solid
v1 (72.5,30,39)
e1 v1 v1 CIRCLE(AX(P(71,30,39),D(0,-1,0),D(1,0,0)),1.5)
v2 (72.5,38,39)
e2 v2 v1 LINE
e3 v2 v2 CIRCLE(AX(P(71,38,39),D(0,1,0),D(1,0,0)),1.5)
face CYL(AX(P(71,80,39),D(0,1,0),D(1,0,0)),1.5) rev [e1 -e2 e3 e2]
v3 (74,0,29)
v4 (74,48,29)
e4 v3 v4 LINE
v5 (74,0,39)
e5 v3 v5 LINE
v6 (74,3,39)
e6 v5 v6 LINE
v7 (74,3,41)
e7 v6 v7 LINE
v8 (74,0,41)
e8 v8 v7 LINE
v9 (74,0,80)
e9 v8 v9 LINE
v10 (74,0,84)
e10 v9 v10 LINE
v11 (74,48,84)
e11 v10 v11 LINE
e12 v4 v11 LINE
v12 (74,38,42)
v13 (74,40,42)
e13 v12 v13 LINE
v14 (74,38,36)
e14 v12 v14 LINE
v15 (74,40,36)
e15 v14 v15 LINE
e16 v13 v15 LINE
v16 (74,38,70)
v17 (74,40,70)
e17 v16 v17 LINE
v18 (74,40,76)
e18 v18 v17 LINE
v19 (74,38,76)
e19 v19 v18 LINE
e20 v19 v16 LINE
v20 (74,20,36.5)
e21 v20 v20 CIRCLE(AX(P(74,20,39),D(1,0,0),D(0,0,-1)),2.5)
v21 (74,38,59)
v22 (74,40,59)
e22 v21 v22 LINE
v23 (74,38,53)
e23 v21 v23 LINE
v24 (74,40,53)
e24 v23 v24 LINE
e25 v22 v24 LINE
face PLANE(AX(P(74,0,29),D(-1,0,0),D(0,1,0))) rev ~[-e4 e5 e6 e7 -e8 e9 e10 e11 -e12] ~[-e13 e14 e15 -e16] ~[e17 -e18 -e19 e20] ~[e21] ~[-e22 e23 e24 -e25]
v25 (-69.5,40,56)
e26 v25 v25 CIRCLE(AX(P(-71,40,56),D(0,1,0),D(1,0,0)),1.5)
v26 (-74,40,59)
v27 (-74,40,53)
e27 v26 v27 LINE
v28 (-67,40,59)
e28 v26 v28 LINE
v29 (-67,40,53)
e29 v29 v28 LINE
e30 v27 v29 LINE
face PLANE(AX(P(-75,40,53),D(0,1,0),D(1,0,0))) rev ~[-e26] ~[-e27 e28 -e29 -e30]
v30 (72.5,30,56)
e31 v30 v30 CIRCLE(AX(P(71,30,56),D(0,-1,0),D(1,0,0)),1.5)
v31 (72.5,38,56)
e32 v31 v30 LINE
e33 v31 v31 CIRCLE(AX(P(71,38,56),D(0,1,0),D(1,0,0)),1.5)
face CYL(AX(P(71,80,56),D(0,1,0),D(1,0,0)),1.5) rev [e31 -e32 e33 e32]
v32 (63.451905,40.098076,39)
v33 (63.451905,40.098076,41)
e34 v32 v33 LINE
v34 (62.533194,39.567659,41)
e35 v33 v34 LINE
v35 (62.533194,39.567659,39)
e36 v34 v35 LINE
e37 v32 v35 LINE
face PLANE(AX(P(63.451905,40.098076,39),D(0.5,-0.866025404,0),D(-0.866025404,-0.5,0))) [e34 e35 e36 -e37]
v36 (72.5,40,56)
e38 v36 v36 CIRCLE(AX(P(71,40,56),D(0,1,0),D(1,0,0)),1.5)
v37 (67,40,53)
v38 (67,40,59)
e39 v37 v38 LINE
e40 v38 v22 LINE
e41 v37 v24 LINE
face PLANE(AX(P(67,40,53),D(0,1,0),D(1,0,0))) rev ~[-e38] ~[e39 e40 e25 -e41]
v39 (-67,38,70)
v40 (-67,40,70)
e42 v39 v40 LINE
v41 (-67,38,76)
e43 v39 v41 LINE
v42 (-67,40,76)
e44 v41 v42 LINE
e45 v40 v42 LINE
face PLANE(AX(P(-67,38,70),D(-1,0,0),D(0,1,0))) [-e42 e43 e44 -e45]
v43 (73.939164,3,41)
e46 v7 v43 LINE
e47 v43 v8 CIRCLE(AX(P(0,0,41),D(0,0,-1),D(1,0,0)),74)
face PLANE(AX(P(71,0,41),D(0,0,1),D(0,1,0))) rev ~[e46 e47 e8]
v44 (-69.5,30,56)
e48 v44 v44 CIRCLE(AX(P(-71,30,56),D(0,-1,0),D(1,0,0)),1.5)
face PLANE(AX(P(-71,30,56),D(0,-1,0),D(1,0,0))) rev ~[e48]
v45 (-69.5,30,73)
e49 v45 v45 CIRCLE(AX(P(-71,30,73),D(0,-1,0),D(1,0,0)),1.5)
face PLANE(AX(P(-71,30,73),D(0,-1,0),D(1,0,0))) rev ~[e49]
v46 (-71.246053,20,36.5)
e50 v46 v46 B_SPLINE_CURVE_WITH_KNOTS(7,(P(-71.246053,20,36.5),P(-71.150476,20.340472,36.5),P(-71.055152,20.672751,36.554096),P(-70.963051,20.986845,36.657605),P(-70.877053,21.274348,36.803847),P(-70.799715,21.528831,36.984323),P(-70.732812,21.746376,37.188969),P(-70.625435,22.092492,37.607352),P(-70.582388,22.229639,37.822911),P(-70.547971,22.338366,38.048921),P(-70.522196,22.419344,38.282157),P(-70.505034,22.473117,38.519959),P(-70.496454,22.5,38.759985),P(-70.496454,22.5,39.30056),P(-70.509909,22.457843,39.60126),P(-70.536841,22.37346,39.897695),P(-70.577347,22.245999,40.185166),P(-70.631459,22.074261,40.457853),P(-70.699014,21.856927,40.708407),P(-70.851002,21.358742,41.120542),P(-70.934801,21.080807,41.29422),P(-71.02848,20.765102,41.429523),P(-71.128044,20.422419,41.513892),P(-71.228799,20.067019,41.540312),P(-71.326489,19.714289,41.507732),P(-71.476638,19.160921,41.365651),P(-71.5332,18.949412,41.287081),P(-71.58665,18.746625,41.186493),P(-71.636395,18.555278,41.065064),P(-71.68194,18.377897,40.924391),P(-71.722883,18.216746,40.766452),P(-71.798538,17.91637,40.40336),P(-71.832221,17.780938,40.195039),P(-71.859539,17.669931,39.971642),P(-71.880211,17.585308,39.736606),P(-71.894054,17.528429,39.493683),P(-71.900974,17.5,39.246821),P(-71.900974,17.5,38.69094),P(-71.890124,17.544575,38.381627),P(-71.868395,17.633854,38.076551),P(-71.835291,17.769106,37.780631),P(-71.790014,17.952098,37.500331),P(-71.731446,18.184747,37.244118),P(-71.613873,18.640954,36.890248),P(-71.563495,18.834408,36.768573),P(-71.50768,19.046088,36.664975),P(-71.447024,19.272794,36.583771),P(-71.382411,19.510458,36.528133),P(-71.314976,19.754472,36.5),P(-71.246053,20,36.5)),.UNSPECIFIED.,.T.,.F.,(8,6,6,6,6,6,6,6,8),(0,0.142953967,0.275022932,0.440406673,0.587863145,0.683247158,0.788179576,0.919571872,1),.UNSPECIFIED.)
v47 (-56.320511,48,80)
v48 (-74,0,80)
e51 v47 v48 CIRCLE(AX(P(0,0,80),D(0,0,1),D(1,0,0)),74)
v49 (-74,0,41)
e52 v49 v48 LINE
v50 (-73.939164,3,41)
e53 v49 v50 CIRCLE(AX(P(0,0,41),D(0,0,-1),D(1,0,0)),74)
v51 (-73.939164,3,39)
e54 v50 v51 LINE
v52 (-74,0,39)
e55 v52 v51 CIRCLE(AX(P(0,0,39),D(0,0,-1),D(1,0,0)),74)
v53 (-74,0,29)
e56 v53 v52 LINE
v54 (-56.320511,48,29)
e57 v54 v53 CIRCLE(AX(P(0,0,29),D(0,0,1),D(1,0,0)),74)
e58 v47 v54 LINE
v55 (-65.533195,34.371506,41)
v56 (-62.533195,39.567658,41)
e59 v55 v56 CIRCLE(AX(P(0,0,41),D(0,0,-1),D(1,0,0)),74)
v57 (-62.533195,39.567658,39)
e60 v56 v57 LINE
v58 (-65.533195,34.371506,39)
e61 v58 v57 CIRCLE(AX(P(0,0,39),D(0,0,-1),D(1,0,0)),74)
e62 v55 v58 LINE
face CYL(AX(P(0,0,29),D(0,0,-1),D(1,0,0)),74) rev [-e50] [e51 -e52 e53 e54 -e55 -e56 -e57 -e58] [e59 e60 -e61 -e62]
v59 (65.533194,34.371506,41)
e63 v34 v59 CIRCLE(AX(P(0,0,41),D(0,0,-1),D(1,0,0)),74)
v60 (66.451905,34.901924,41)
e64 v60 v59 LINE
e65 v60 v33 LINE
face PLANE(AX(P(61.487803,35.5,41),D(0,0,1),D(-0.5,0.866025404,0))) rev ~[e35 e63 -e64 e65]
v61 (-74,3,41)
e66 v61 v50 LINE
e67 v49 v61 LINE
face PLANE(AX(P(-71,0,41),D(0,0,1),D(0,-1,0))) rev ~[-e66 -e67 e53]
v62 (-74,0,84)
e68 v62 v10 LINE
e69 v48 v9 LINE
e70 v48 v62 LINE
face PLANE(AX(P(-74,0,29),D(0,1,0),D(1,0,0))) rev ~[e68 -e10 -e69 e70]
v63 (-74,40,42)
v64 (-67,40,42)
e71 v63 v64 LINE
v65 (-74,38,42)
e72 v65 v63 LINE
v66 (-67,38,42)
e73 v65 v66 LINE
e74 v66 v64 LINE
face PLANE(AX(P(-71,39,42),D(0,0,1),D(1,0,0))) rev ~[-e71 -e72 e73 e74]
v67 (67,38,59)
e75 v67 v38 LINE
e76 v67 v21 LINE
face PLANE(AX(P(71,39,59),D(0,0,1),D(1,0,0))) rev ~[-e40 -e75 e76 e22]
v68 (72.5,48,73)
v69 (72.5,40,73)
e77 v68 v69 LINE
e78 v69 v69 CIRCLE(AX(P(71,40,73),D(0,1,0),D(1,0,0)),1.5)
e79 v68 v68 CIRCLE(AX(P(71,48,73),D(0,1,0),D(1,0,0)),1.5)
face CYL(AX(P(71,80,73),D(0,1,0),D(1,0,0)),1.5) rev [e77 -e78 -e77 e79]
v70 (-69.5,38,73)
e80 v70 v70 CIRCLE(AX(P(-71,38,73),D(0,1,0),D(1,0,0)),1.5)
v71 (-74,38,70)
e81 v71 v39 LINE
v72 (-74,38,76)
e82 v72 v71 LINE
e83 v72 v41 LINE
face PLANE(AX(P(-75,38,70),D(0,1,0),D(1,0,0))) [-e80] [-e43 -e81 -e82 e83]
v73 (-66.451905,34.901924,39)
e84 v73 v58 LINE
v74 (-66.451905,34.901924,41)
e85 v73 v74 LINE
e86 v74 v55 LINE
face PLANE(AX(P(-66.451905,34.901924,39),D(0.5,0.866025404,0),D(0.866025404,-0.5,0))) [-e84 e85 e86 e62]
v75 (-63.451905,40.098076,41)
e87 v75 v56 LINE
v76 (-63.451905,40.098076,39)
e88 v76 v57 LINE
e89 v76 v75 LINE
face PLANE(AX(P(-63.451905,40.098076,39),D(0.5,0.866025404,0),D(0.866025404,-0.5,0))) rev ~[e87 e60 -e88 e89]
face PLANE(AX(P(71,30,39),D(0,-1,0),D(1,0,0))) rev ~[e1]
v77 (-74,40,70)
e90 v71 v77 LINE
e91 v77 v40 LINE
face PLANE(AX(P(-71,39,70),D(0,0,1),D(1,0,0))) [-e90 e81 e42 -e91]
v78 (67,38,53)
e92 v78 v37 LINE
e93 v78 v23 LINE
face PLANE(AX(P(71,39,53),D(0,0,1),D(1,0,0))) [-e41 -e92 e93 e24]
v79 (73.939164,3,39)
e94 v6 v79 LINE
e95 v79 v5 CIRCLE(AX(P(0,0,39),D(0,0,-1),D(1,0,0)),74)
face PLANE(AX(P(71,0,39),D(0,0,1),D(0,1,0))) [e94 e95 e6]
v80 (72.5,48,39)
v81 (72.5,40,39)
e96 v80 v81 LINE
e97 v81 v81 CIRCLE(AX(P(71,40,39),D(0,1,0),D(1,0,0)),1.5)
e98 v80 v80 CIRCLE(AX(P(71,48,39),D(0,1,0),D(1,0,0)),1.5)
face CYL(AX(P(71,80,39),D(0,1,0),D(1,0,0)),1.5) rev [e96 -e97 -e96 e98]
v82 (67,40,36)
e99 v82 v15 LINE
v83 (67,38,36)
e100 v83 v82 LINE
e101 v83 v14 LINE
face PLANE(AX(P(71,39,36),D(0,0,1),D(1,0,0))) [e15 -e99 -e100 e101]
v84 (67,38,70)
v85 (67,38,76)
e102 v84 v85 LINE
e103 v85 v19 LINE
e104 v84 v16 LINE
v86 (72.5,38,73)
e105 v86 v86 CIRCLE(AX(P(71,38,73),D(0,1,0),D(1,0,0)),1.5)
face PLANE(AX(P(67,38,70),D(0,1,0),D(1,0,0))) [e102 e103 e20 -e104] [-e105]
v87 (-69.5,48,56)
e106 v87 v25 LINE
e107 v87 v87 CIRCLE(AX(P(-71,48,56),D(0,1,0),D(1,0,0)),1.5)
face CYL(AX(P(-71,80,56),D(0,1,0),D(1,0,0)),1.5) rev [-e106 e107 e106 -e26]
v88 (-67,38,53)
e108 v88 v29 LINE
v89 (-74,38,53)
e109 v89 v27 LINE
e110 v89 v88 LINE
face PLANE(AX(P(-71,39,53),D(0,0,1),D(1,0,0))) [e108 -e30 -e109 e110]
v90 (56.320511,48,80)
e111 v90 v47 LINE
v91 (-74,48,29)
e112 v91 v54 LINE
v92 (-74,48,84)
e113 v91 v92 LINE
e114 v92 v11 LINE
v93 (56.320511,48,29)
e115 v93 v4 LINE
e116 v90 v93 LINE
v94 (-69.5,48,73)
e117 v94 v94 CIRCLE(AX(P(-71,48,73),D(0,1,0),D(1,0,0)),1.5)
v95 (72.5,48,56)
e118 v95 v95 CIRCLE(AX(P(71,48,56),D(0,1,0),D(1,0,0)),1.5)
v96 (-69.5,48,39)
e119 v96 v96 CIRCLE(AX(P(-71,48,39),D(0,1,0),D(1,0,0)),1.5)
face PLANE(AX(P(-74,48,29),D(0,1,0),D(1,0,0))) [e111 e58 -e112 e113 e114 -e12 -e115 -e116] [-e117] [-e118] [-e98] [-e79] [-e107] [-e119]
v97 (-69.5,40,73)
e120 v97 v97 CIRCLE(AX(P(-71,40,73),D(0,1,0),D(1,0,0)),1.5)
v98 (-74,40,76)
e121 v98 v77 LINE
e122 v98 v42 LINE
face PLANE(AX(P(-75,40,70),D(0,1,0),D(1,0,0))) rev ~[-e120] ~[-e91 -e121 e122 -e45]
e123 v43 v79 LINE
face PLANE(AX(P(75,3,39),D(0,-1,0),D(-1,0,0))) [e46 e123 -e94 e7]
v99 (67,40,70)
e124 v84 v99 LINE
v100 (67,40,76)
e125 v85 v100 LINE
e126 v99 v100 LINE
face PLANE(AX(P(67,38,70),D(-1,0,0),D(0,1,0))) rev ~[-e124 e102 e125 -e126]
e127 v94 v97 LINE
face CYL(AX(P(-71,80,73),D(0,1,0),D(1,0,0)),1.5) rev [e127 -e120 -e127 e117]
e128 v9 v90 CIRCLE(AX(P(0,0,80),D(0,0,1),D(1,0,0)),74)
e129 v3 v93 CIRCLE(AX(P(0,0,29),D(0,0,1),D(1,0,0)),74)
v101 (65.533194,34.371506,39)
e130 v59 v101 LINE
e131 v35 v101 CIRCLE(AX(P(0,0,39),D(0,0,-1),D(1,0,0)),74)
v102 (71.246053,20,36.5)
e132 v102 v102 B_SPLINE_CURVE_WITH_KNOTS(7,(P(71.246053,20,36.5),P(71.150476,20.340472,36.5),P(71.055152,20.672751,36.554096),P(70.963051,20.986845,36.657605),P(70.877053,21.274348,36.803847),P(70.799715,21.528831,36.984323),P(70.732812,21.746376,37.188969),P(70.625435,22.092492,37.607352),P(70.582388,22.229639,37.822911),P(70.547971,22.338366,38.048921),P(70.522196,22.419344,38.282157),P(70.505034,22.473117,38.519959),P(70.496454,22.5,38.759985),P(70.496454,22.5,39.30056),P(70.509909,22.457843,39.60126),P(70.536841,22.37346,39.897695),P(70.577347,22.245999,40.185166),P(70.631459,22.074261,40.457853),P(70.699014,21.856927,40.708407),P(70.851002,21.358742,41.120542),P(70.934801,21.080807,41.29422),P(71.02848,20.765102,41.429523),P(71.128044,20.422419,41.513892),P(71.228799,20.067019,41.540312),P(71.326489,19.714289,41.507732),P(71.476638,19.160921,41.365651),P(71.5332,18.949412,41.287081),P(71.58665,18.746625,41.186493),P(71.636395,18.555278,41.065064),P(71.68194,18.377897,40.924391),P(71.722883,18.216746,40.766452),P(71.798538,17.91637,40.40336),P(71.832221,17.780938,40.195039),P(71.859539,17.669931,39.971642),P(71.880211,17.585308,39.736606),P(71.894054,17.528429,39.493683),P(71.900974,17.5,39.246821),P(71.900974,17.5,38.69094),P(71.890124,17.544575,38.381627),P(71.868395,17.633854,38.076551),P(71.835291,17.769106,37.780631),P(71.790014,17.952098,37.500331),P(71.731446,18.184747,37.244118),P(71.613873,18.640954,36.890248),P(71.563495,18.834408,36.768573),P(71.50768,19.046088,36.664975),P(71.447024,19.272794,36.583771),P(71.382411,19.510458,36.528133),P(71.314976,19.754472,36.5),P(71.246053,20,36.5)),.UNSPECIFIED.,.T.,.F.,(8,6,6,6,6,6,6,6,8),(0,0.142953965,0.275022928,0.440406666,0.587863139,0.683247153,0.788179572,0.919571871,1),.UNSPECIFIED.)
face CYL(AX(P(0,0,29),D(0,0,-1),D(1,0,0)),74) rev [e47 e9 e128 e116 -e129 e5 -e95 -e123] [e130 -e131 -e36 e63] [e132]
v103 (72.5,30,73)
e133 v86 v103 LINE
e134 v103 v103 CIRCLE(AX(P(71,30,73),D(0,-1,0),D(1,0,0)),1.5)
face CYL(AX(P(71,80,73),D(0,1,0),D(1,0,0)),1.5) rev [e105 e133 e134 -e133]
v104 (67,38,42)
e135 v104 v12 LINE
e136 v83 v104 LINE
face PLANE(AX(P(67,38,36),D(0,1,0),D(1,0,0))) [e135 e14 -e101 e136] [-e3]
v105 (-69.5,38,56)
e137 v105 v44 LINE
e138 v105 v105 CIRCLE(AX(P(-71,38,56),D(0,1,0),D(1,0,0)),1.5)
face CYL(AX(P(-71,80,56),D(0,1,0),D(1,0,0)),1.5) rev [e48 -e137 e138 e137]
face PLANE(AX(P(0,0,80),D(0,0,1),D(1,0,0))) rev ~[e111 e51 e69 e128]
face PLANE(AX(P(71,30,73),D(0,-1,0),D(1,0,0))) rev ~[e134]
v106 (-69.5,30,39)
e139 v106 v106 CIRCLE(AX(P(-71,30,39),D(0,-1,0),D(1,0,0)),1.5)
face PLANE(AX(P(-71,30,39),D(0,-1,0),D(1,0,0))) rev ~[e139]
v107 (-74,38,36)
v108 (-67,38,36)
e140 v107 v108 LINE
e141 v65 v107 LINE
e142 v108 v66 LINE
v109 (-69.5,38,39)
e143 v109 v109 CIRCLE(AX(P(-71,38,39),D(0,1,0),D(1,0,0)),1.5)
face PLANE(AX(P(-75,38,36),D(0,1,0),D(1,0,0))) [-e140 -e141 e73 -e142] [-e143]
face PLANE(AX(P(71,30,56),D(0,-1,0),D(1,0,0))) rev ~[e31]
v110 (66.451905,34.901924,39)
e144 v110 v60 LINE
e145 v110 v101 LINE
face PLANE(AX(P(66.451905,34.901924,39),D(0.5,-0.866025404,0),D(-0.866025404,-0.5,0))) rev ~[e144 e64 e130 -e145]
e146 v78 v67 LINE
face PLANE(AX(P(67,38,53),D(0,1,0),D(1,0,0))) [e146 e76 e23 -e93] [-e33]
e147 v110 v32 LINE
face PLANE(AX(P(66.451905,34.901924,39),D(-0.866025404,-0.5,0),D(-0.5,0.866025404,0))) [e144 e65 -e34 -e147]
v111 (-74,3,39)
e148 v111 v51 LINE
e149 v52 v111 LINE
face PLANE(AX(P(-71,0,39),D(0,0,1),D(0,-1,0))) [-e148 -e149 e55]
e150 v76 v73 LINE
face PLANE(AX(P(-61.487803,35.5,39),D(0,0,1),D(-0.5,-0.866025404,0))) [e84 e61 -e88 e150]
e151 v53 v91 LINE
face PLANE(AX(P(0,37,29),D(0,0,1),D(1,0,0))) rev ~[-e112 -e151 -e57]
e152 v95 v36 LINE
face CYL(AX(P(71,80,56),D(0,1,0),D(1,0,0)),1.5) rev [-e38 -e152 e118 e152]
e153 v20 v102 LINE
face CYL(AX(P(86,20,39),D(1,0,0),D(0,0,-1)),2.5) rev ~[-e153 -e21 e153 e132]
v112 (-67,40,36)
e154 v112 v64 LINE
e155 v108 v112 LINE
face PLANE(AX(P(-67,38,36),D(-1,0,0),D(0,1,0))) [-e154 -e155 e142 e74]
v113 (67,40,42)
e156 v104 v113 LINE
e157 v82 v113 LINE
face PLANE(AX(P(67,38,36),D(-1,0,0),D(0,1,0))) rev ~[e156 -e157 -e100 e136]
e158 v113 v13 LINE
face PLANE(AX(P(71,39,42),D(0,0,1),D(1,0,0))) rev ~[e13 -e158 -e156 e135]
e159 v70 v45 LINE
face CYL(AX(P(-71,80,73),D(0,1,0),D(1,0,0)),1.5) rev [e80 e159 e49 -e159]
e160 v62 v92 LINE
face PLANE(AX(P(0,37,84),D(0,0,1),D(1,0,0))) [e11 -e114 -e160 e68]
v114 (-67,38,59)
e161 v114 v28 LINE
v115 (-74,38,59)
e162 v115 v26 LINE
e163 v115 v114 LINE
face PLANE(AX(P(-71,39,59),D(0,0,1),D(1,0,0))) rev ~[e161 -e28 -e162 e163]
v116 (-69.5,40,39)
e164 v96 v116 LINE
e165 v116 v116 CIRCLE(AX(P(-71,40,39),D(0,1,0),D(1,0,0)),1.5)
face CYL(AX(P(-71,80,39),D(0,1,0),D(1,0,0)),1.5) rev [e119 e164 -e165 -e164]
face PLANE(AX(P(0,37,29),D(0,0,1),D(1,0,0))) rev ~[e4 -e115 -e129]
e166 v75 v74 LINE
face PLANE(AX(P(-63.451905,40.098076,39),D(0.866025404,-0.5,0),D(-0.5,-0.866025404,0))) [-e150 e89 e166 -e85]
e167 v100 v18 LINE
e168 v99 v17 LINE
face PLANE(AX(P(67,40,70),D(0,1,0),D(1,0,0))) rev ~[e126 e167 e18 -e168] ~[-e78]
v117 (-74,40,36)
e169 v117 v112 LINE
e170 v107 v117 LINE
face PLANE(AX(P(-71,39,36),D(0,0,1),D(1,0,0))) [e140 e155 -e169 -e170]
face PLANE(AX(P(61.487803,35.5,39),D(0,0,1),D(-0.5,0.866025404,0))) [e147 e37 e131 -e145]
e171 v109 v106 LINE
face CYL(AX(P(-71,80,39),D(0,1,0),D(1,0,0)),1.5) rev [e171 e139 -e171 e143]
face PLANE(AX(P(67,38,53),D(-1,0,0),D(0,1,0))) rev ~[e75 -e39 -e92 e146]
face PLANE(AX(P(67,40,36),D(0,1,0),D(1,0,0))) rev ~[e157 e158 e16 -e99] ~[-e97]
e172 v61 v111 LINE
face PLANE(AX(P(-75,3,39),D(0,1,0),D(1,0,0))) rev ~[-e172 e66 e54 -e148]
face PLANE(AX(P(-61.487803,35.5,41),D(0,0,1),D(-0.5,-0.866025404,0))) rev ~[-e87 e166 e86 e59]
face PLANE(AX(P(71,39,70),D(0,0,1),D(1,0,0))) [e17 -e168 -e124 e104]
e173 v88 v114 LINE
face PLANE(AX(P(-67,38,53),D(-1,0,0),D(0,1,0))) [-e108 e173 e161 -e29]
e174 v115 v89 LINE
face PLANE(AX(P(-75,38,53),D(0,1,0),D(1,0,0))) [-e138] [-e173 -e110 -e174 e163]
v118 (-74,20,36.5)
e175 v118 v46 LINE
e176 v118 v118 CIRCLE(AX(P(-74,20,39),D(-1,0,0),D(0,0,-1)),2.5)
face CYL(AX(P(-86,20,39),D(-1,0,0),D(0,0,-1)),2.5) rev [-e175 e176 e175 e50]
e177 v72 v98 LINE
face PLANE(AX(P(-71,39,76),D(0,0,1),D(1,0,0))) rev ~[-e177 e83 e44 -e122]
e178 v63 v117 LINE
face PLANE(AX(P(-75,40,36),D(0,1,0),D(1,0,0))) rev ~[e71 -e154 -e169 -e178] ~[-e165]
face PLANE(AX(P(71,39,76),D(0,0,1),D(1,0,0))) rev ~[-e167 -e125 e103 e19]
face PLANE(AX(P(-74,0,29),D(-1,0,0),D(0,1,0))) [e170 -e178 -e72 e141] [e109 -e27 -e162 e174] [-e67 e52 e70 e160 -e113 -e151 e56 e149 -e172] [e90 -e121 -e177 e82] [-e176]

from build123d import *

# Parameters (mm, degrees)
CYLINDER1844_R              = 2.5
CYLINDER1844_DEPTH          = 40
CYLINDER1841_R              = 2.5
CYLINDER1841_DEPTH          = 40
COMPOUND950_PLACEMENT_ANGLE = 90
CYLINDER1843_R              = 2.5
CYLINDER1843_DEPTH          = 40
CYLINDER1845_R              = 2.5
CYLINDER1845_DEPTH          = 40
COMPOUND949_PLACEMENT_ANGLE = 90
CYLINDER1842_R              = 2.5
CYLINDER1842_DEPTH          = 40
CYLINDER1850_R              = 2.5
CYLINDER1850_DEPTH          = 40
CYLINDER1851_R              = 2.5
CYLINDER1851_DEPTH          = 40
CYLINDER1848_R              = 2.5
CYLINDER1848_DEPTH          = 40
CYLINDER1846_R              = 2.5
CYLINDER1846_DEPTH          = 40
CYLINDER1847_R              = 2.5
CYLINDER1847_DEPTH          = 40
BOX851_W                    = 6
BOX851_H                    = 8
BOX851_DEPTH                = 2
BOX851_PLACEMENT_ANGLE      = 30
BOX852_W                    = 6
BOX852_H                    = 8
BOX852_DEPTH                = 2
BOX852_PLACEMENT_ANGLE      = 60
BOX853_W                    = 6
BOX853_H                    = 8
BOX853_DEPTH                = 2
BOX854_W                    = 6
BOX854_H                    = 8
BOX854_DEPTH                = 2
BOX854_PLACEMENT_ANGLE      = 120
BOX855_W                    = 6
BOX855_H                    = 8
BOX855_DEPTH                = 2
BOX855_PLACEMENT_ANGLE      = 150
BOX856_W                    = 6
BOX856_H                    = 8
BOX856_DEPTH                = 2
BOX857_W                    = 6
BOX857_H                    = 8
BOX857_DEPTH                = 2
BOX857_PLACEMENT_ANGLE      = 210
BOX858_W                    = 6
BOX858_H                    = 8
BOX858_DEPTH                = 2
BOX858_PLACEMENT_ANGLE      = 240
BOX859_W                    = 6
BOX859_H                    = 8
BOX859_DEPTH                = 2
BOX860_W                    = 6
BOX860_H                    = 8
BOX860_DEPTH                = 2
BOX860_PLACEMENT_ANGLE      = 60
BOX861_W                    = 6
BOX861_H                    = 8
BOX861_DEPTH                = 2
BOX861_PLACEMENT_ANGLE      = 30
BOX850_W                    = 6
BOX850_H                    = 8
BOX850_DEPTH                = 2
BOX814_W                    = 8
BOX814_H                    = 2
BOX814_DEPTH                = 6
BOX825_W                    = 8
BOX825_H                    = 2
BOX825_DEPTH                = 6
BOX847_W                    = 8
BOX847_H                    = 2
BOX847_DEPTH                = 6
BOX848_W                    = 8
BOX848_H                    = 2
BOX848_DEPTH                = 6
BOX849_W                    = 8
BOX849_H                    = 2
BOX849_DEPTH                = 6
BOX816_W                    = 8
BOX816_H                    = 2
BOX816_DEPTH                = 6
CYLINDER1862_R              = 1.5
CYLINDER1862_DEPTH          = 50
CYLINDER1865_R              = 1.5
CYLINDER1865_DEPTH          = 50
CYLINDER1863_R              = 1.5
CYLINDER1863_DEPTH          = 50
CYLINDER1861_R              = 1.5
CYLINDER1861_DEPTH          = 50
CYLINDER1858_R              = 1.5
CYLINDER1858_DEPTH          = 50
CYLINDER1859_R              = 1.5
CYLINDER1859_DEPTH          = 50
BOX815_W                    = 148
BOX815_H                    = 26
BOX815_DEPTH                = 55
CYLINDER1860_R              = 74
CYLINDER1860_DEPTH          = 51
BOX817_W                    = 148
BOX817_H                    = 74
BOX817_DEPTH                = 55


with BuildPart() as v_lec1844:
    # Cylinder1844 → Cylinder1844 (new body)
    with BuildSketch(Plane(origin=(-86, -10, 69), x_dir=(0, 0, -1), z_dir=(1, 0, 0))):
        Circle(CYLINDER1844_R)
    extrude(amount=CYLINDER1844_DEPTH)


with BuildPart() as compound950:
    # Cylinder1841 → Cylinder1841 (new body)
    with BuildSketch(Plane(origin=(-86, -10, 39), x_dir=(0, 0, -1), z_dir=(1, 0, 0))):
        Circle(CYLINDER1841_R)
    extrude(amount=CYLINDER1841_DEPTH)

    # Compound950: union Válec1844
    add(v_lec1844.part)


with BuildPart() as compound950_1:
    # Compound950 placement: moved
    add(compound950.part.moved(Location((-21.5, 0, 0))).rotate(Axis((-21.5, 0, 0), (0, 0, 1)), COMPOUND950_PLACEMENT_ANGLE))


with BuildPart() as v_lec1843:
    # Cylinder1843 → Cylinder1843 (new body)
    with BuildSketch(Plane(origin=(-86, -10, 69), x_dir=(0, 0, -1), z_dir=(1, 0, 0))):
        Circle(CYLINDER1843_R)
    extrude(amount=CYLINDER1843_DEPTH)


with BuildPart() as compound975:
    # Cylinder1845 → Cylinder1845 (new body)
    with BuildSketch(Plane(origin=(-86, -10, 39), x_dir=(0, 0, -1), z_dir=(1, 0, 0))):
        Circle(CYLINDER1845_R)
    extrude(amount=CYLINDER1845_DEPTH)

    # Compound949: union Válec1843
    add(v_lec1843.part)


with BuildPart() as compound975_1:
    # Compound949 placement: moved
    add(compound975.part.moved(Location((1.5, 0, 0))).rotate(Axis((1.5, 0, 0), (0, 0, 1)), COMPOUND949_PLACEMENT_ANGLE))

    # Compound975: union Compound950
    add(compound950_1.part)


with BuildPart() as v_lec1842:
    # Cylinder1842 → Cylinder1842 (new body)
    with BuildSketch(Plane(origin=(-86, 20, 39), x_dir=(0, 0, -1), z_dir=(1, 0, 0))):
        Circle(CYLINDER1842_R)
    extrude(amount=CYLINDER1842_DEPTH)


with BuildPart() as v_lec1850:
    # Cylinder1850 → Cylinder1850 (new body)
    with BuildSketch(Plane(origin=(-86, -10, 69), x_dir=(0, 0, -1), z_dir=(1, 0, 0))):
        Circle(CYLINDER1850_R)
    extrude(amount=CYLINDER1850_DEPTH)


with BuildPart() as compound974:
    # Cylinder1851 → Cylinder1851 (new body)
    with BuildSketch(Plane(origin=(-86, -10, 39), x_dir=(0, 0, -1), z_dir=(1, 0, 0))):
        Circle(CYLINDER1851_R)
    extrude(amount=CYLINDER1851_DEPTH)

    # Compound974: union Válec1842, Válec1850
    add(v_lec1842.part)
    add(v_lec1850.part)


with BuildPart() as mirror008:
    # mirror008: instance of Compound974
    add(compound974.part.mirror(Plane(origin=(0, 0, 0), x_dir=(0, -1, 0), z_dir=(1, 0, 0))))


with BuildPart() as v_lec1848:
    # Cylinder1848 → Cylinder1848 (new body)
    with BuildSketch(Plane(origin=(-86, 20, 39), x_dir=(0, 0, -1), z_dir=(1, 0, 0))):
        Circle(CYLINDER1848_R)
    extrude(amount=CYLINDER1848_DEPTH)


with BuildPart() as v_lec1846:
    # Cylinder1846 → Cylinder1846 (new body)
    with BuildSketch(Plane(origin=(-86, -10, 69), x_dir=(0, 0, -1), z_dir=(1, 0, 0))):
        Circle(CYLINDER1846_R)
    extrude(amount=CYLINDER1846_DEPTH)


with BuildPart() as compound948:
    # Cylinder1847 → Cylinder1847 (new body)
    with BuildSketch(Plane(origin=(-86, -10, 39), x_dir=(0, 0, -1), z_dir=(1, 0, 0))):
        Circle(CYLINDER1847_R)
    extrude(amount=CYLINDER1847_DEPTH)

    # Compound947: union Válec1848, Válec1846
    add(v_lec1848.part)
    add(v_lec1846.part)

    # Compound948: union Compound975, mirror008
    add(compound975_1.part)
    add(mirror008.part)


with BuildPart() as krychle851:
    # Box851 → Box851 (new body)
    with BuildSketch(Plane.XY):
        with Locations((3, 4)):
            Rectangle(BOX851_W, BOX851_H)
    extrude(amount=BOX851_DEPTH)


with BuildPart() as krychle851_1:
    # Box851 placement: moved
    add(krychle851.part.moved(Location((34.901924, -66.451905, 39))).rotate(Axis((34.901924, -66.451905, 39), (0, 0, 1)), BOX851_PLACEMENT_ANGLE))


with BuildPart() as krychle852:
    # Box852 → Box852 (new body)
    with BuildSketch(Plane.XY):
        with Locations((3, 4)):
            Rectangle(BOX852_W, BOX852_H)
    extrude(amount=BOX852_DEPTH)


with BuildPart() as krychle852_1:
    # Box852 placement: moved
    add(krychle852.part.moved(Location((63.451905, -40.098076, 39))).rotate(Axis((63.451905, -40.098076, 39), (0, 0, 1)), BOX852_PLACEMENT_ANGLE))


with BuildPart() as krychle853:
    # Box853 → Box853 (new body)
    with BuildSketch(Plane(origin=(75, -3, 39), x_dir=(0, 1, 0), z_dir=(0, 0, 1))):
        with Locations((3, 4)):
            Rectangle(BOX853_W, BOX853_H)
    extrude(amount=BOX853_DEPTH)


with BuildPart() as krychle854:
    # Box854 → Box854 (new body)
    with BuildSketch(Plane.XY):
        with Locations((3, 4)):
            Rectangle(BOX854_W, BOX854_H)
    extrude(amount=BOX854_DEPTH)


with BuildPart() as krychle854_1:
    # Box854 placement: moved
    add(krychle854.part.moved(Location((66.451905, 34.901924, 39))).rotate(Axis((66.451905, 34.901924, 39), (0, 0, 1)), BOX854_PLACEMENT_ANGLE))


with BuildPart() as krychle855:
    # Box855 → Box855 (new body)
    with BuildSketch(Plane.XY):
        with Locations((3, 4)):
            Rectangle(BOX855_W, BOX855_H)
    extrude(amount=BOX855_DEPTH)


with BuildPart() as krychle855_1:
    # Box855 placement: moved
    add(krychle855.part.moved(Location((40.098076, 63.451905, 39))).rotate(Axis((40.098076, 63.451905, 39), (0, 0, 1)), BOX855_PLACEMENT_ANGLE))


with BuildPart() as krychle856:
    # Box856 → Box856 (new body)
    with BuildSketch(Plane(origin=(3, 75, 39), x_dir=(-1, 0, 0), z_dir=(0, 0, 1))):
        with Locations((3, 4)):
            Rectangle(BOX856_W, BOX856_H)
    extrude(amount=BOX856_DEPTH)


with BuildPart() as krychle857:
    # Box857 → Box857 (new body)
    with BuildSketch(Plane.XY):
        with Locations((3, 4)):
            Rectangle(BOX857_W, BOX857_H)
    extrude(amount=BOX857_DEPTH)


with BuildPart() as krychle857_1:
    # Box857 placement: moved
    add(krychle857.part.moved(Location((-34.901924, 66.451905, 39))).rotate(Axis((-34.901924, 66.451905, 39), (0, 0, 1)), BOX857_PLACEMENT_ANGLE))


with BuildPart() as krychle858:
    # Box858 → Box858 (new body)
    with BuildSketch(Plane.XY):
        with Locations((3, 4)):
            Rectangle(BOX858_W, BOX858_H)
    extrude(amount=BOX858_DEPTH)


with BuildPart() as krychle858_1:
    # Box858 placement: moved
    add(krychle858.part.moved(Location((-63.451905, 40.098076, 39))).rotate(Axis((-63.451905, 40.098076, 39), (0, 0, 1)), BOX858_PLACEMENT_ANGLE))


with BuildPart() as krychle859:
    # Box859 → Box859 (new body)
    with BuildSketch(Plane(origin=(-75, 3, 39), x_dir=(0, -1, 0), z_dir=(0, 0, 1))):
        with Locations((3, 4)):
            Rectangle(BOX859_W, BOX859_H)
    extrude(amount=BOX859_DEPTH)


with BuildPart() as krychle860:
    # Box860 → Box860 (new body)
    with BuildSketch(Plane.XY):
        with Locations((3, 4)):
            Rectangle(BOX860_W, BOX860_H)
    extrude(amount=BOX860_DEPTH)


with BuildPart() as krychle860_1:
    # Box860 placement: moved
    add(krychle860.part.moved(Location((-66.451905, -34.901924, 39))).rotate(Axis((-66.451905, -34.901924, 39), (0, 0, -1)), BOX860_PLACEMENT_ANGLE))


with BuildPart() as krychle861:
    # Box861 → Box861 (new body)
    with BuildSketch(Plane.XY):
        with Locations((3, 4)):
            Rectangle(BOX861_W, BOX861_H)
    extrude(amount=BOX861_DEPTH)


with BuildPart() as krychle861_1:
    # Box861 placement: moved
    add(krychle861.part.moved(Location((-40.098076, -63.451905, 39))).rotate(Axis((-40.098076, -63.451905, 39), (0, 0, -1)), BOX861_PLACEMENT_ANGLE))


with BuildPart() as compound968:
    # Box850 → Box850 (new body)
    with BuildSketch(Plane(origin=(-3, -75, 39), x_dir=(1, 0, 0), z_dir=(0, 0, 1))):
        with Locations((3, 4)):
            Rectangle(BOX850_W, BOX850_H)
    extrude(amount=BOX850_DEPTH)

    # Compound968: union Krychle851, Krychle852, Krychle853, Krychle854, Krychle855, Krychle856, Krychle857, Krychle858, Krychle859, Krychle860, Krychle861
    add(krychle851_1.part)
    add(krychle852_1.part)
    add(krychle853.part)
    add(krychle854_1.part)
    add(krychle855_1.part)
    add(krychle856.part)
    add(krychle857_1.part)
    add(krychle858_1.part)
    add(krychle859.part)
    add(krychle860_1.part)
    add(krychle861_1.part)


with BuildPart() as krychle814:
    # Box814 → Box814 (new body)
    with BuildSketch(Plane(origin=(67, 38, 36), x_dir=(1, 0, 0), z_dir=(0, 0, 1))):
        with Locations((4, 1)):
            Rectangle(BOX814_W, BOX814_H)
    extrude(amount=BOX814_DEPTH)


with BuildPart() as krychle825:
    # Box825 → Box825 (new body)
    with BuildSketch(Plane(origin=(67, 38, 70), x_dir=(1, 0, 0), z_dir=(0, 0, 1))):
        with Locations((4, 1)):
            Rectangle(BOX825_W, BOX825_H)
    extrude(amount=BOX825_DEPTH)


with BuildPart() as krychle847:
    # Box847 → Box847 (new body)
    with BuildSketch(Plane(origin=(-75, 38, 70), x_dir=(1, 0, 0), z_dir=(0, 0, 1))):
        with Locations((4, 1)):
            Rectangle(BOX847_W, BOX847_H)
    extrude(amount=BOX847_DEPTH)


with BuildPart() as krychle848:
    # Box848 → Box848 (new body)
    with BuildSketch(Plane(origin=(-75, 38, 53), x_dir=(1, 0, 0), z_dir=(0, 0, 1))):
        with Locations((4, 1)):
            Rectangle(BOX848_W, BOX848_H)
    extrude(amount=BOX848_DEPTH)


with BuildPart() as krychle849:
    # Box849 → Box849 (new body)
    with BuildSketch(Plane(origin=(67, 38, 53), x_dir=(1, 0, 0), z_dir=(0, 0, 1))):
        with Locations((4, 1)):
            Rectangle(BOX849_W, BOX849_H)
    extrude(amount=BOX849_DEPTH)


with BuildPart() as compound970:
    # Box816 → Box816 (new body)
    with BuildSketch(Plane(origin=(-75, 38, 36), x_dir=(1, 0, 0), z_dir=(0, 0, 1))):
        with Locations((4, 1)):
            Rectangle(BOX816_W, BOX816_H)
    extrude(amount=BOX816_DEPTH)

    # Compound970: union Krychle814, Krychle825, Krychle847, Krychle848, Krychle849
    add(krychle814.part)
    add(krychle825.part)
    add(krychle847.part)
    add(krychle848.part)
    add(krychle849.part)


with BuildPart() as v_lec1862:
    # Cylinder1862 → Cylinder1862 (new body)
    with BuildSketch(Plane(origin=(71, 80, 39), x_dir=(1, 0, 0), z_dir=(0, -1, 0))):
        Circle(CYLINDER1862_R)
    extrude(amount=CYLINDER1862_DEPTH)


with BuildPart() as v_lec1865:
    # Cylinder1865 → Cylinder1865 (new body)
    with BuildSketch(Plane(origin=(-71, 80, 39), x_dir=(1, 0, 0), z_dir=(0, -1, 0))):
        Circle(CYLINDER1865_R)
    extrude(amount=CYLINDER1865_DEPTH)


with BuildPart() as v_lec1863:
    # Cylinder1863 → Cylinder1863 (new body)
    with BuildSketch(Plane(origin=(71, 80, 73), x_dir=(1, 0, 0), z_dir=(0, -1, 0))):
        Circle(CYLINDER1863_R)
    extrude(amount=CYLINDER1863_DEPTH)


with BuildPart() as v_lec1861:
    # Cylinder1861 → Cylinder1861 (new body)
    with BuildSketch(Plane(origin=(-71, 80, 56), x_dir=(1, 0, 0), z_dir=(0, -1, 0))):
        Circle(CYLINDER1861_R)
    extrude(amount=CYLINDER1861_DEPTH)


with BuildPart() as v_lec1858:
    # Cylinder1858 → Cylinder1858 (new body)
    with BuildSketch(Plane(origin=(71, 80, 56), x_dir=(1, 0, 0), z_dir=(0, -1, 0))):
        Circle(CYLINDER1858_R)
    extrude(amount=CYLINDER1858_DEPTH)


with BuildPart() as compound969:
    # Cylinder1859 → Cylinder1859 (new body)
    with BuildSketch(Plane(origin=(-71, 80, 73), x_dir=(1, 0, 0), z_dir=(0, -1, 0))):
        Circle(CYLINDER1859_R)
    extrude(amount=CYLINDER1859_DEPTH)

    # Compound969: union Válec1862, Válec1865, Válec1863, Válec1861, Válec1858
    add(v_lec1862.part)
    add(v_lec1865.part)
    add(v_lec1863.part)
    add(v_lec1861.part)
    add(v_lec1858.part)


with BuildPart() as krychle815:
    # Box815 → Box815 (new body)
    with BuildSketch(Plane(origin=(-74, 48, 29), x_dir=(1, 0, 0), z_dir=(0, 0, 1))):
        with Locations((74, 13)):
            Rectangle(BOX815_W, BOX815_H)
    extrude(amount=BOX815_DEPTH)


with BuildPart() as v_lec1860:
    # Cylinder1860 → Cylinder1860 (new body)
    with BuildSketch(Plane.XY.offset(29)):
        Circle(CYLINDER1860_R)
    extrude(amount=CYLINDER1860_DEPTH)


with BuildPart() as cut600:
    # Box817 → Box817 (new body)
    with BuildSketch(Plane(origin=(-74, 0, 29), x_dir=(1, 0, 0), z_dir=(0, 0, 1))):
        with Locations((74, 37)):
            Rectangle(BOX817_W, BOX817_H)
    extrude(amount=BOX817_DEPTH)

    # Cut615: cut Válec1860
    add(v_lec1860.part, mode=Mode.SUBTRACT)

    # Cut616: cut Krychle815
    add(krychle815.part, mode=Mode.SUBTRACT)

    # Cut617: cut Compound969
    add(compound969.part, mode=Mode.SUBTRACT)

    # Cut618: cut Compound970
    add(compound970.part, mode=Mode.SUBTRACT)

    # Cut598: cut Compound968
    add(compound968.part, mode=Mode.SUBTRACT)

    # Cut600: cut Compound948
    add(compound948.part, mode=Mode.SUBTRACT)


solid = cut600.part
